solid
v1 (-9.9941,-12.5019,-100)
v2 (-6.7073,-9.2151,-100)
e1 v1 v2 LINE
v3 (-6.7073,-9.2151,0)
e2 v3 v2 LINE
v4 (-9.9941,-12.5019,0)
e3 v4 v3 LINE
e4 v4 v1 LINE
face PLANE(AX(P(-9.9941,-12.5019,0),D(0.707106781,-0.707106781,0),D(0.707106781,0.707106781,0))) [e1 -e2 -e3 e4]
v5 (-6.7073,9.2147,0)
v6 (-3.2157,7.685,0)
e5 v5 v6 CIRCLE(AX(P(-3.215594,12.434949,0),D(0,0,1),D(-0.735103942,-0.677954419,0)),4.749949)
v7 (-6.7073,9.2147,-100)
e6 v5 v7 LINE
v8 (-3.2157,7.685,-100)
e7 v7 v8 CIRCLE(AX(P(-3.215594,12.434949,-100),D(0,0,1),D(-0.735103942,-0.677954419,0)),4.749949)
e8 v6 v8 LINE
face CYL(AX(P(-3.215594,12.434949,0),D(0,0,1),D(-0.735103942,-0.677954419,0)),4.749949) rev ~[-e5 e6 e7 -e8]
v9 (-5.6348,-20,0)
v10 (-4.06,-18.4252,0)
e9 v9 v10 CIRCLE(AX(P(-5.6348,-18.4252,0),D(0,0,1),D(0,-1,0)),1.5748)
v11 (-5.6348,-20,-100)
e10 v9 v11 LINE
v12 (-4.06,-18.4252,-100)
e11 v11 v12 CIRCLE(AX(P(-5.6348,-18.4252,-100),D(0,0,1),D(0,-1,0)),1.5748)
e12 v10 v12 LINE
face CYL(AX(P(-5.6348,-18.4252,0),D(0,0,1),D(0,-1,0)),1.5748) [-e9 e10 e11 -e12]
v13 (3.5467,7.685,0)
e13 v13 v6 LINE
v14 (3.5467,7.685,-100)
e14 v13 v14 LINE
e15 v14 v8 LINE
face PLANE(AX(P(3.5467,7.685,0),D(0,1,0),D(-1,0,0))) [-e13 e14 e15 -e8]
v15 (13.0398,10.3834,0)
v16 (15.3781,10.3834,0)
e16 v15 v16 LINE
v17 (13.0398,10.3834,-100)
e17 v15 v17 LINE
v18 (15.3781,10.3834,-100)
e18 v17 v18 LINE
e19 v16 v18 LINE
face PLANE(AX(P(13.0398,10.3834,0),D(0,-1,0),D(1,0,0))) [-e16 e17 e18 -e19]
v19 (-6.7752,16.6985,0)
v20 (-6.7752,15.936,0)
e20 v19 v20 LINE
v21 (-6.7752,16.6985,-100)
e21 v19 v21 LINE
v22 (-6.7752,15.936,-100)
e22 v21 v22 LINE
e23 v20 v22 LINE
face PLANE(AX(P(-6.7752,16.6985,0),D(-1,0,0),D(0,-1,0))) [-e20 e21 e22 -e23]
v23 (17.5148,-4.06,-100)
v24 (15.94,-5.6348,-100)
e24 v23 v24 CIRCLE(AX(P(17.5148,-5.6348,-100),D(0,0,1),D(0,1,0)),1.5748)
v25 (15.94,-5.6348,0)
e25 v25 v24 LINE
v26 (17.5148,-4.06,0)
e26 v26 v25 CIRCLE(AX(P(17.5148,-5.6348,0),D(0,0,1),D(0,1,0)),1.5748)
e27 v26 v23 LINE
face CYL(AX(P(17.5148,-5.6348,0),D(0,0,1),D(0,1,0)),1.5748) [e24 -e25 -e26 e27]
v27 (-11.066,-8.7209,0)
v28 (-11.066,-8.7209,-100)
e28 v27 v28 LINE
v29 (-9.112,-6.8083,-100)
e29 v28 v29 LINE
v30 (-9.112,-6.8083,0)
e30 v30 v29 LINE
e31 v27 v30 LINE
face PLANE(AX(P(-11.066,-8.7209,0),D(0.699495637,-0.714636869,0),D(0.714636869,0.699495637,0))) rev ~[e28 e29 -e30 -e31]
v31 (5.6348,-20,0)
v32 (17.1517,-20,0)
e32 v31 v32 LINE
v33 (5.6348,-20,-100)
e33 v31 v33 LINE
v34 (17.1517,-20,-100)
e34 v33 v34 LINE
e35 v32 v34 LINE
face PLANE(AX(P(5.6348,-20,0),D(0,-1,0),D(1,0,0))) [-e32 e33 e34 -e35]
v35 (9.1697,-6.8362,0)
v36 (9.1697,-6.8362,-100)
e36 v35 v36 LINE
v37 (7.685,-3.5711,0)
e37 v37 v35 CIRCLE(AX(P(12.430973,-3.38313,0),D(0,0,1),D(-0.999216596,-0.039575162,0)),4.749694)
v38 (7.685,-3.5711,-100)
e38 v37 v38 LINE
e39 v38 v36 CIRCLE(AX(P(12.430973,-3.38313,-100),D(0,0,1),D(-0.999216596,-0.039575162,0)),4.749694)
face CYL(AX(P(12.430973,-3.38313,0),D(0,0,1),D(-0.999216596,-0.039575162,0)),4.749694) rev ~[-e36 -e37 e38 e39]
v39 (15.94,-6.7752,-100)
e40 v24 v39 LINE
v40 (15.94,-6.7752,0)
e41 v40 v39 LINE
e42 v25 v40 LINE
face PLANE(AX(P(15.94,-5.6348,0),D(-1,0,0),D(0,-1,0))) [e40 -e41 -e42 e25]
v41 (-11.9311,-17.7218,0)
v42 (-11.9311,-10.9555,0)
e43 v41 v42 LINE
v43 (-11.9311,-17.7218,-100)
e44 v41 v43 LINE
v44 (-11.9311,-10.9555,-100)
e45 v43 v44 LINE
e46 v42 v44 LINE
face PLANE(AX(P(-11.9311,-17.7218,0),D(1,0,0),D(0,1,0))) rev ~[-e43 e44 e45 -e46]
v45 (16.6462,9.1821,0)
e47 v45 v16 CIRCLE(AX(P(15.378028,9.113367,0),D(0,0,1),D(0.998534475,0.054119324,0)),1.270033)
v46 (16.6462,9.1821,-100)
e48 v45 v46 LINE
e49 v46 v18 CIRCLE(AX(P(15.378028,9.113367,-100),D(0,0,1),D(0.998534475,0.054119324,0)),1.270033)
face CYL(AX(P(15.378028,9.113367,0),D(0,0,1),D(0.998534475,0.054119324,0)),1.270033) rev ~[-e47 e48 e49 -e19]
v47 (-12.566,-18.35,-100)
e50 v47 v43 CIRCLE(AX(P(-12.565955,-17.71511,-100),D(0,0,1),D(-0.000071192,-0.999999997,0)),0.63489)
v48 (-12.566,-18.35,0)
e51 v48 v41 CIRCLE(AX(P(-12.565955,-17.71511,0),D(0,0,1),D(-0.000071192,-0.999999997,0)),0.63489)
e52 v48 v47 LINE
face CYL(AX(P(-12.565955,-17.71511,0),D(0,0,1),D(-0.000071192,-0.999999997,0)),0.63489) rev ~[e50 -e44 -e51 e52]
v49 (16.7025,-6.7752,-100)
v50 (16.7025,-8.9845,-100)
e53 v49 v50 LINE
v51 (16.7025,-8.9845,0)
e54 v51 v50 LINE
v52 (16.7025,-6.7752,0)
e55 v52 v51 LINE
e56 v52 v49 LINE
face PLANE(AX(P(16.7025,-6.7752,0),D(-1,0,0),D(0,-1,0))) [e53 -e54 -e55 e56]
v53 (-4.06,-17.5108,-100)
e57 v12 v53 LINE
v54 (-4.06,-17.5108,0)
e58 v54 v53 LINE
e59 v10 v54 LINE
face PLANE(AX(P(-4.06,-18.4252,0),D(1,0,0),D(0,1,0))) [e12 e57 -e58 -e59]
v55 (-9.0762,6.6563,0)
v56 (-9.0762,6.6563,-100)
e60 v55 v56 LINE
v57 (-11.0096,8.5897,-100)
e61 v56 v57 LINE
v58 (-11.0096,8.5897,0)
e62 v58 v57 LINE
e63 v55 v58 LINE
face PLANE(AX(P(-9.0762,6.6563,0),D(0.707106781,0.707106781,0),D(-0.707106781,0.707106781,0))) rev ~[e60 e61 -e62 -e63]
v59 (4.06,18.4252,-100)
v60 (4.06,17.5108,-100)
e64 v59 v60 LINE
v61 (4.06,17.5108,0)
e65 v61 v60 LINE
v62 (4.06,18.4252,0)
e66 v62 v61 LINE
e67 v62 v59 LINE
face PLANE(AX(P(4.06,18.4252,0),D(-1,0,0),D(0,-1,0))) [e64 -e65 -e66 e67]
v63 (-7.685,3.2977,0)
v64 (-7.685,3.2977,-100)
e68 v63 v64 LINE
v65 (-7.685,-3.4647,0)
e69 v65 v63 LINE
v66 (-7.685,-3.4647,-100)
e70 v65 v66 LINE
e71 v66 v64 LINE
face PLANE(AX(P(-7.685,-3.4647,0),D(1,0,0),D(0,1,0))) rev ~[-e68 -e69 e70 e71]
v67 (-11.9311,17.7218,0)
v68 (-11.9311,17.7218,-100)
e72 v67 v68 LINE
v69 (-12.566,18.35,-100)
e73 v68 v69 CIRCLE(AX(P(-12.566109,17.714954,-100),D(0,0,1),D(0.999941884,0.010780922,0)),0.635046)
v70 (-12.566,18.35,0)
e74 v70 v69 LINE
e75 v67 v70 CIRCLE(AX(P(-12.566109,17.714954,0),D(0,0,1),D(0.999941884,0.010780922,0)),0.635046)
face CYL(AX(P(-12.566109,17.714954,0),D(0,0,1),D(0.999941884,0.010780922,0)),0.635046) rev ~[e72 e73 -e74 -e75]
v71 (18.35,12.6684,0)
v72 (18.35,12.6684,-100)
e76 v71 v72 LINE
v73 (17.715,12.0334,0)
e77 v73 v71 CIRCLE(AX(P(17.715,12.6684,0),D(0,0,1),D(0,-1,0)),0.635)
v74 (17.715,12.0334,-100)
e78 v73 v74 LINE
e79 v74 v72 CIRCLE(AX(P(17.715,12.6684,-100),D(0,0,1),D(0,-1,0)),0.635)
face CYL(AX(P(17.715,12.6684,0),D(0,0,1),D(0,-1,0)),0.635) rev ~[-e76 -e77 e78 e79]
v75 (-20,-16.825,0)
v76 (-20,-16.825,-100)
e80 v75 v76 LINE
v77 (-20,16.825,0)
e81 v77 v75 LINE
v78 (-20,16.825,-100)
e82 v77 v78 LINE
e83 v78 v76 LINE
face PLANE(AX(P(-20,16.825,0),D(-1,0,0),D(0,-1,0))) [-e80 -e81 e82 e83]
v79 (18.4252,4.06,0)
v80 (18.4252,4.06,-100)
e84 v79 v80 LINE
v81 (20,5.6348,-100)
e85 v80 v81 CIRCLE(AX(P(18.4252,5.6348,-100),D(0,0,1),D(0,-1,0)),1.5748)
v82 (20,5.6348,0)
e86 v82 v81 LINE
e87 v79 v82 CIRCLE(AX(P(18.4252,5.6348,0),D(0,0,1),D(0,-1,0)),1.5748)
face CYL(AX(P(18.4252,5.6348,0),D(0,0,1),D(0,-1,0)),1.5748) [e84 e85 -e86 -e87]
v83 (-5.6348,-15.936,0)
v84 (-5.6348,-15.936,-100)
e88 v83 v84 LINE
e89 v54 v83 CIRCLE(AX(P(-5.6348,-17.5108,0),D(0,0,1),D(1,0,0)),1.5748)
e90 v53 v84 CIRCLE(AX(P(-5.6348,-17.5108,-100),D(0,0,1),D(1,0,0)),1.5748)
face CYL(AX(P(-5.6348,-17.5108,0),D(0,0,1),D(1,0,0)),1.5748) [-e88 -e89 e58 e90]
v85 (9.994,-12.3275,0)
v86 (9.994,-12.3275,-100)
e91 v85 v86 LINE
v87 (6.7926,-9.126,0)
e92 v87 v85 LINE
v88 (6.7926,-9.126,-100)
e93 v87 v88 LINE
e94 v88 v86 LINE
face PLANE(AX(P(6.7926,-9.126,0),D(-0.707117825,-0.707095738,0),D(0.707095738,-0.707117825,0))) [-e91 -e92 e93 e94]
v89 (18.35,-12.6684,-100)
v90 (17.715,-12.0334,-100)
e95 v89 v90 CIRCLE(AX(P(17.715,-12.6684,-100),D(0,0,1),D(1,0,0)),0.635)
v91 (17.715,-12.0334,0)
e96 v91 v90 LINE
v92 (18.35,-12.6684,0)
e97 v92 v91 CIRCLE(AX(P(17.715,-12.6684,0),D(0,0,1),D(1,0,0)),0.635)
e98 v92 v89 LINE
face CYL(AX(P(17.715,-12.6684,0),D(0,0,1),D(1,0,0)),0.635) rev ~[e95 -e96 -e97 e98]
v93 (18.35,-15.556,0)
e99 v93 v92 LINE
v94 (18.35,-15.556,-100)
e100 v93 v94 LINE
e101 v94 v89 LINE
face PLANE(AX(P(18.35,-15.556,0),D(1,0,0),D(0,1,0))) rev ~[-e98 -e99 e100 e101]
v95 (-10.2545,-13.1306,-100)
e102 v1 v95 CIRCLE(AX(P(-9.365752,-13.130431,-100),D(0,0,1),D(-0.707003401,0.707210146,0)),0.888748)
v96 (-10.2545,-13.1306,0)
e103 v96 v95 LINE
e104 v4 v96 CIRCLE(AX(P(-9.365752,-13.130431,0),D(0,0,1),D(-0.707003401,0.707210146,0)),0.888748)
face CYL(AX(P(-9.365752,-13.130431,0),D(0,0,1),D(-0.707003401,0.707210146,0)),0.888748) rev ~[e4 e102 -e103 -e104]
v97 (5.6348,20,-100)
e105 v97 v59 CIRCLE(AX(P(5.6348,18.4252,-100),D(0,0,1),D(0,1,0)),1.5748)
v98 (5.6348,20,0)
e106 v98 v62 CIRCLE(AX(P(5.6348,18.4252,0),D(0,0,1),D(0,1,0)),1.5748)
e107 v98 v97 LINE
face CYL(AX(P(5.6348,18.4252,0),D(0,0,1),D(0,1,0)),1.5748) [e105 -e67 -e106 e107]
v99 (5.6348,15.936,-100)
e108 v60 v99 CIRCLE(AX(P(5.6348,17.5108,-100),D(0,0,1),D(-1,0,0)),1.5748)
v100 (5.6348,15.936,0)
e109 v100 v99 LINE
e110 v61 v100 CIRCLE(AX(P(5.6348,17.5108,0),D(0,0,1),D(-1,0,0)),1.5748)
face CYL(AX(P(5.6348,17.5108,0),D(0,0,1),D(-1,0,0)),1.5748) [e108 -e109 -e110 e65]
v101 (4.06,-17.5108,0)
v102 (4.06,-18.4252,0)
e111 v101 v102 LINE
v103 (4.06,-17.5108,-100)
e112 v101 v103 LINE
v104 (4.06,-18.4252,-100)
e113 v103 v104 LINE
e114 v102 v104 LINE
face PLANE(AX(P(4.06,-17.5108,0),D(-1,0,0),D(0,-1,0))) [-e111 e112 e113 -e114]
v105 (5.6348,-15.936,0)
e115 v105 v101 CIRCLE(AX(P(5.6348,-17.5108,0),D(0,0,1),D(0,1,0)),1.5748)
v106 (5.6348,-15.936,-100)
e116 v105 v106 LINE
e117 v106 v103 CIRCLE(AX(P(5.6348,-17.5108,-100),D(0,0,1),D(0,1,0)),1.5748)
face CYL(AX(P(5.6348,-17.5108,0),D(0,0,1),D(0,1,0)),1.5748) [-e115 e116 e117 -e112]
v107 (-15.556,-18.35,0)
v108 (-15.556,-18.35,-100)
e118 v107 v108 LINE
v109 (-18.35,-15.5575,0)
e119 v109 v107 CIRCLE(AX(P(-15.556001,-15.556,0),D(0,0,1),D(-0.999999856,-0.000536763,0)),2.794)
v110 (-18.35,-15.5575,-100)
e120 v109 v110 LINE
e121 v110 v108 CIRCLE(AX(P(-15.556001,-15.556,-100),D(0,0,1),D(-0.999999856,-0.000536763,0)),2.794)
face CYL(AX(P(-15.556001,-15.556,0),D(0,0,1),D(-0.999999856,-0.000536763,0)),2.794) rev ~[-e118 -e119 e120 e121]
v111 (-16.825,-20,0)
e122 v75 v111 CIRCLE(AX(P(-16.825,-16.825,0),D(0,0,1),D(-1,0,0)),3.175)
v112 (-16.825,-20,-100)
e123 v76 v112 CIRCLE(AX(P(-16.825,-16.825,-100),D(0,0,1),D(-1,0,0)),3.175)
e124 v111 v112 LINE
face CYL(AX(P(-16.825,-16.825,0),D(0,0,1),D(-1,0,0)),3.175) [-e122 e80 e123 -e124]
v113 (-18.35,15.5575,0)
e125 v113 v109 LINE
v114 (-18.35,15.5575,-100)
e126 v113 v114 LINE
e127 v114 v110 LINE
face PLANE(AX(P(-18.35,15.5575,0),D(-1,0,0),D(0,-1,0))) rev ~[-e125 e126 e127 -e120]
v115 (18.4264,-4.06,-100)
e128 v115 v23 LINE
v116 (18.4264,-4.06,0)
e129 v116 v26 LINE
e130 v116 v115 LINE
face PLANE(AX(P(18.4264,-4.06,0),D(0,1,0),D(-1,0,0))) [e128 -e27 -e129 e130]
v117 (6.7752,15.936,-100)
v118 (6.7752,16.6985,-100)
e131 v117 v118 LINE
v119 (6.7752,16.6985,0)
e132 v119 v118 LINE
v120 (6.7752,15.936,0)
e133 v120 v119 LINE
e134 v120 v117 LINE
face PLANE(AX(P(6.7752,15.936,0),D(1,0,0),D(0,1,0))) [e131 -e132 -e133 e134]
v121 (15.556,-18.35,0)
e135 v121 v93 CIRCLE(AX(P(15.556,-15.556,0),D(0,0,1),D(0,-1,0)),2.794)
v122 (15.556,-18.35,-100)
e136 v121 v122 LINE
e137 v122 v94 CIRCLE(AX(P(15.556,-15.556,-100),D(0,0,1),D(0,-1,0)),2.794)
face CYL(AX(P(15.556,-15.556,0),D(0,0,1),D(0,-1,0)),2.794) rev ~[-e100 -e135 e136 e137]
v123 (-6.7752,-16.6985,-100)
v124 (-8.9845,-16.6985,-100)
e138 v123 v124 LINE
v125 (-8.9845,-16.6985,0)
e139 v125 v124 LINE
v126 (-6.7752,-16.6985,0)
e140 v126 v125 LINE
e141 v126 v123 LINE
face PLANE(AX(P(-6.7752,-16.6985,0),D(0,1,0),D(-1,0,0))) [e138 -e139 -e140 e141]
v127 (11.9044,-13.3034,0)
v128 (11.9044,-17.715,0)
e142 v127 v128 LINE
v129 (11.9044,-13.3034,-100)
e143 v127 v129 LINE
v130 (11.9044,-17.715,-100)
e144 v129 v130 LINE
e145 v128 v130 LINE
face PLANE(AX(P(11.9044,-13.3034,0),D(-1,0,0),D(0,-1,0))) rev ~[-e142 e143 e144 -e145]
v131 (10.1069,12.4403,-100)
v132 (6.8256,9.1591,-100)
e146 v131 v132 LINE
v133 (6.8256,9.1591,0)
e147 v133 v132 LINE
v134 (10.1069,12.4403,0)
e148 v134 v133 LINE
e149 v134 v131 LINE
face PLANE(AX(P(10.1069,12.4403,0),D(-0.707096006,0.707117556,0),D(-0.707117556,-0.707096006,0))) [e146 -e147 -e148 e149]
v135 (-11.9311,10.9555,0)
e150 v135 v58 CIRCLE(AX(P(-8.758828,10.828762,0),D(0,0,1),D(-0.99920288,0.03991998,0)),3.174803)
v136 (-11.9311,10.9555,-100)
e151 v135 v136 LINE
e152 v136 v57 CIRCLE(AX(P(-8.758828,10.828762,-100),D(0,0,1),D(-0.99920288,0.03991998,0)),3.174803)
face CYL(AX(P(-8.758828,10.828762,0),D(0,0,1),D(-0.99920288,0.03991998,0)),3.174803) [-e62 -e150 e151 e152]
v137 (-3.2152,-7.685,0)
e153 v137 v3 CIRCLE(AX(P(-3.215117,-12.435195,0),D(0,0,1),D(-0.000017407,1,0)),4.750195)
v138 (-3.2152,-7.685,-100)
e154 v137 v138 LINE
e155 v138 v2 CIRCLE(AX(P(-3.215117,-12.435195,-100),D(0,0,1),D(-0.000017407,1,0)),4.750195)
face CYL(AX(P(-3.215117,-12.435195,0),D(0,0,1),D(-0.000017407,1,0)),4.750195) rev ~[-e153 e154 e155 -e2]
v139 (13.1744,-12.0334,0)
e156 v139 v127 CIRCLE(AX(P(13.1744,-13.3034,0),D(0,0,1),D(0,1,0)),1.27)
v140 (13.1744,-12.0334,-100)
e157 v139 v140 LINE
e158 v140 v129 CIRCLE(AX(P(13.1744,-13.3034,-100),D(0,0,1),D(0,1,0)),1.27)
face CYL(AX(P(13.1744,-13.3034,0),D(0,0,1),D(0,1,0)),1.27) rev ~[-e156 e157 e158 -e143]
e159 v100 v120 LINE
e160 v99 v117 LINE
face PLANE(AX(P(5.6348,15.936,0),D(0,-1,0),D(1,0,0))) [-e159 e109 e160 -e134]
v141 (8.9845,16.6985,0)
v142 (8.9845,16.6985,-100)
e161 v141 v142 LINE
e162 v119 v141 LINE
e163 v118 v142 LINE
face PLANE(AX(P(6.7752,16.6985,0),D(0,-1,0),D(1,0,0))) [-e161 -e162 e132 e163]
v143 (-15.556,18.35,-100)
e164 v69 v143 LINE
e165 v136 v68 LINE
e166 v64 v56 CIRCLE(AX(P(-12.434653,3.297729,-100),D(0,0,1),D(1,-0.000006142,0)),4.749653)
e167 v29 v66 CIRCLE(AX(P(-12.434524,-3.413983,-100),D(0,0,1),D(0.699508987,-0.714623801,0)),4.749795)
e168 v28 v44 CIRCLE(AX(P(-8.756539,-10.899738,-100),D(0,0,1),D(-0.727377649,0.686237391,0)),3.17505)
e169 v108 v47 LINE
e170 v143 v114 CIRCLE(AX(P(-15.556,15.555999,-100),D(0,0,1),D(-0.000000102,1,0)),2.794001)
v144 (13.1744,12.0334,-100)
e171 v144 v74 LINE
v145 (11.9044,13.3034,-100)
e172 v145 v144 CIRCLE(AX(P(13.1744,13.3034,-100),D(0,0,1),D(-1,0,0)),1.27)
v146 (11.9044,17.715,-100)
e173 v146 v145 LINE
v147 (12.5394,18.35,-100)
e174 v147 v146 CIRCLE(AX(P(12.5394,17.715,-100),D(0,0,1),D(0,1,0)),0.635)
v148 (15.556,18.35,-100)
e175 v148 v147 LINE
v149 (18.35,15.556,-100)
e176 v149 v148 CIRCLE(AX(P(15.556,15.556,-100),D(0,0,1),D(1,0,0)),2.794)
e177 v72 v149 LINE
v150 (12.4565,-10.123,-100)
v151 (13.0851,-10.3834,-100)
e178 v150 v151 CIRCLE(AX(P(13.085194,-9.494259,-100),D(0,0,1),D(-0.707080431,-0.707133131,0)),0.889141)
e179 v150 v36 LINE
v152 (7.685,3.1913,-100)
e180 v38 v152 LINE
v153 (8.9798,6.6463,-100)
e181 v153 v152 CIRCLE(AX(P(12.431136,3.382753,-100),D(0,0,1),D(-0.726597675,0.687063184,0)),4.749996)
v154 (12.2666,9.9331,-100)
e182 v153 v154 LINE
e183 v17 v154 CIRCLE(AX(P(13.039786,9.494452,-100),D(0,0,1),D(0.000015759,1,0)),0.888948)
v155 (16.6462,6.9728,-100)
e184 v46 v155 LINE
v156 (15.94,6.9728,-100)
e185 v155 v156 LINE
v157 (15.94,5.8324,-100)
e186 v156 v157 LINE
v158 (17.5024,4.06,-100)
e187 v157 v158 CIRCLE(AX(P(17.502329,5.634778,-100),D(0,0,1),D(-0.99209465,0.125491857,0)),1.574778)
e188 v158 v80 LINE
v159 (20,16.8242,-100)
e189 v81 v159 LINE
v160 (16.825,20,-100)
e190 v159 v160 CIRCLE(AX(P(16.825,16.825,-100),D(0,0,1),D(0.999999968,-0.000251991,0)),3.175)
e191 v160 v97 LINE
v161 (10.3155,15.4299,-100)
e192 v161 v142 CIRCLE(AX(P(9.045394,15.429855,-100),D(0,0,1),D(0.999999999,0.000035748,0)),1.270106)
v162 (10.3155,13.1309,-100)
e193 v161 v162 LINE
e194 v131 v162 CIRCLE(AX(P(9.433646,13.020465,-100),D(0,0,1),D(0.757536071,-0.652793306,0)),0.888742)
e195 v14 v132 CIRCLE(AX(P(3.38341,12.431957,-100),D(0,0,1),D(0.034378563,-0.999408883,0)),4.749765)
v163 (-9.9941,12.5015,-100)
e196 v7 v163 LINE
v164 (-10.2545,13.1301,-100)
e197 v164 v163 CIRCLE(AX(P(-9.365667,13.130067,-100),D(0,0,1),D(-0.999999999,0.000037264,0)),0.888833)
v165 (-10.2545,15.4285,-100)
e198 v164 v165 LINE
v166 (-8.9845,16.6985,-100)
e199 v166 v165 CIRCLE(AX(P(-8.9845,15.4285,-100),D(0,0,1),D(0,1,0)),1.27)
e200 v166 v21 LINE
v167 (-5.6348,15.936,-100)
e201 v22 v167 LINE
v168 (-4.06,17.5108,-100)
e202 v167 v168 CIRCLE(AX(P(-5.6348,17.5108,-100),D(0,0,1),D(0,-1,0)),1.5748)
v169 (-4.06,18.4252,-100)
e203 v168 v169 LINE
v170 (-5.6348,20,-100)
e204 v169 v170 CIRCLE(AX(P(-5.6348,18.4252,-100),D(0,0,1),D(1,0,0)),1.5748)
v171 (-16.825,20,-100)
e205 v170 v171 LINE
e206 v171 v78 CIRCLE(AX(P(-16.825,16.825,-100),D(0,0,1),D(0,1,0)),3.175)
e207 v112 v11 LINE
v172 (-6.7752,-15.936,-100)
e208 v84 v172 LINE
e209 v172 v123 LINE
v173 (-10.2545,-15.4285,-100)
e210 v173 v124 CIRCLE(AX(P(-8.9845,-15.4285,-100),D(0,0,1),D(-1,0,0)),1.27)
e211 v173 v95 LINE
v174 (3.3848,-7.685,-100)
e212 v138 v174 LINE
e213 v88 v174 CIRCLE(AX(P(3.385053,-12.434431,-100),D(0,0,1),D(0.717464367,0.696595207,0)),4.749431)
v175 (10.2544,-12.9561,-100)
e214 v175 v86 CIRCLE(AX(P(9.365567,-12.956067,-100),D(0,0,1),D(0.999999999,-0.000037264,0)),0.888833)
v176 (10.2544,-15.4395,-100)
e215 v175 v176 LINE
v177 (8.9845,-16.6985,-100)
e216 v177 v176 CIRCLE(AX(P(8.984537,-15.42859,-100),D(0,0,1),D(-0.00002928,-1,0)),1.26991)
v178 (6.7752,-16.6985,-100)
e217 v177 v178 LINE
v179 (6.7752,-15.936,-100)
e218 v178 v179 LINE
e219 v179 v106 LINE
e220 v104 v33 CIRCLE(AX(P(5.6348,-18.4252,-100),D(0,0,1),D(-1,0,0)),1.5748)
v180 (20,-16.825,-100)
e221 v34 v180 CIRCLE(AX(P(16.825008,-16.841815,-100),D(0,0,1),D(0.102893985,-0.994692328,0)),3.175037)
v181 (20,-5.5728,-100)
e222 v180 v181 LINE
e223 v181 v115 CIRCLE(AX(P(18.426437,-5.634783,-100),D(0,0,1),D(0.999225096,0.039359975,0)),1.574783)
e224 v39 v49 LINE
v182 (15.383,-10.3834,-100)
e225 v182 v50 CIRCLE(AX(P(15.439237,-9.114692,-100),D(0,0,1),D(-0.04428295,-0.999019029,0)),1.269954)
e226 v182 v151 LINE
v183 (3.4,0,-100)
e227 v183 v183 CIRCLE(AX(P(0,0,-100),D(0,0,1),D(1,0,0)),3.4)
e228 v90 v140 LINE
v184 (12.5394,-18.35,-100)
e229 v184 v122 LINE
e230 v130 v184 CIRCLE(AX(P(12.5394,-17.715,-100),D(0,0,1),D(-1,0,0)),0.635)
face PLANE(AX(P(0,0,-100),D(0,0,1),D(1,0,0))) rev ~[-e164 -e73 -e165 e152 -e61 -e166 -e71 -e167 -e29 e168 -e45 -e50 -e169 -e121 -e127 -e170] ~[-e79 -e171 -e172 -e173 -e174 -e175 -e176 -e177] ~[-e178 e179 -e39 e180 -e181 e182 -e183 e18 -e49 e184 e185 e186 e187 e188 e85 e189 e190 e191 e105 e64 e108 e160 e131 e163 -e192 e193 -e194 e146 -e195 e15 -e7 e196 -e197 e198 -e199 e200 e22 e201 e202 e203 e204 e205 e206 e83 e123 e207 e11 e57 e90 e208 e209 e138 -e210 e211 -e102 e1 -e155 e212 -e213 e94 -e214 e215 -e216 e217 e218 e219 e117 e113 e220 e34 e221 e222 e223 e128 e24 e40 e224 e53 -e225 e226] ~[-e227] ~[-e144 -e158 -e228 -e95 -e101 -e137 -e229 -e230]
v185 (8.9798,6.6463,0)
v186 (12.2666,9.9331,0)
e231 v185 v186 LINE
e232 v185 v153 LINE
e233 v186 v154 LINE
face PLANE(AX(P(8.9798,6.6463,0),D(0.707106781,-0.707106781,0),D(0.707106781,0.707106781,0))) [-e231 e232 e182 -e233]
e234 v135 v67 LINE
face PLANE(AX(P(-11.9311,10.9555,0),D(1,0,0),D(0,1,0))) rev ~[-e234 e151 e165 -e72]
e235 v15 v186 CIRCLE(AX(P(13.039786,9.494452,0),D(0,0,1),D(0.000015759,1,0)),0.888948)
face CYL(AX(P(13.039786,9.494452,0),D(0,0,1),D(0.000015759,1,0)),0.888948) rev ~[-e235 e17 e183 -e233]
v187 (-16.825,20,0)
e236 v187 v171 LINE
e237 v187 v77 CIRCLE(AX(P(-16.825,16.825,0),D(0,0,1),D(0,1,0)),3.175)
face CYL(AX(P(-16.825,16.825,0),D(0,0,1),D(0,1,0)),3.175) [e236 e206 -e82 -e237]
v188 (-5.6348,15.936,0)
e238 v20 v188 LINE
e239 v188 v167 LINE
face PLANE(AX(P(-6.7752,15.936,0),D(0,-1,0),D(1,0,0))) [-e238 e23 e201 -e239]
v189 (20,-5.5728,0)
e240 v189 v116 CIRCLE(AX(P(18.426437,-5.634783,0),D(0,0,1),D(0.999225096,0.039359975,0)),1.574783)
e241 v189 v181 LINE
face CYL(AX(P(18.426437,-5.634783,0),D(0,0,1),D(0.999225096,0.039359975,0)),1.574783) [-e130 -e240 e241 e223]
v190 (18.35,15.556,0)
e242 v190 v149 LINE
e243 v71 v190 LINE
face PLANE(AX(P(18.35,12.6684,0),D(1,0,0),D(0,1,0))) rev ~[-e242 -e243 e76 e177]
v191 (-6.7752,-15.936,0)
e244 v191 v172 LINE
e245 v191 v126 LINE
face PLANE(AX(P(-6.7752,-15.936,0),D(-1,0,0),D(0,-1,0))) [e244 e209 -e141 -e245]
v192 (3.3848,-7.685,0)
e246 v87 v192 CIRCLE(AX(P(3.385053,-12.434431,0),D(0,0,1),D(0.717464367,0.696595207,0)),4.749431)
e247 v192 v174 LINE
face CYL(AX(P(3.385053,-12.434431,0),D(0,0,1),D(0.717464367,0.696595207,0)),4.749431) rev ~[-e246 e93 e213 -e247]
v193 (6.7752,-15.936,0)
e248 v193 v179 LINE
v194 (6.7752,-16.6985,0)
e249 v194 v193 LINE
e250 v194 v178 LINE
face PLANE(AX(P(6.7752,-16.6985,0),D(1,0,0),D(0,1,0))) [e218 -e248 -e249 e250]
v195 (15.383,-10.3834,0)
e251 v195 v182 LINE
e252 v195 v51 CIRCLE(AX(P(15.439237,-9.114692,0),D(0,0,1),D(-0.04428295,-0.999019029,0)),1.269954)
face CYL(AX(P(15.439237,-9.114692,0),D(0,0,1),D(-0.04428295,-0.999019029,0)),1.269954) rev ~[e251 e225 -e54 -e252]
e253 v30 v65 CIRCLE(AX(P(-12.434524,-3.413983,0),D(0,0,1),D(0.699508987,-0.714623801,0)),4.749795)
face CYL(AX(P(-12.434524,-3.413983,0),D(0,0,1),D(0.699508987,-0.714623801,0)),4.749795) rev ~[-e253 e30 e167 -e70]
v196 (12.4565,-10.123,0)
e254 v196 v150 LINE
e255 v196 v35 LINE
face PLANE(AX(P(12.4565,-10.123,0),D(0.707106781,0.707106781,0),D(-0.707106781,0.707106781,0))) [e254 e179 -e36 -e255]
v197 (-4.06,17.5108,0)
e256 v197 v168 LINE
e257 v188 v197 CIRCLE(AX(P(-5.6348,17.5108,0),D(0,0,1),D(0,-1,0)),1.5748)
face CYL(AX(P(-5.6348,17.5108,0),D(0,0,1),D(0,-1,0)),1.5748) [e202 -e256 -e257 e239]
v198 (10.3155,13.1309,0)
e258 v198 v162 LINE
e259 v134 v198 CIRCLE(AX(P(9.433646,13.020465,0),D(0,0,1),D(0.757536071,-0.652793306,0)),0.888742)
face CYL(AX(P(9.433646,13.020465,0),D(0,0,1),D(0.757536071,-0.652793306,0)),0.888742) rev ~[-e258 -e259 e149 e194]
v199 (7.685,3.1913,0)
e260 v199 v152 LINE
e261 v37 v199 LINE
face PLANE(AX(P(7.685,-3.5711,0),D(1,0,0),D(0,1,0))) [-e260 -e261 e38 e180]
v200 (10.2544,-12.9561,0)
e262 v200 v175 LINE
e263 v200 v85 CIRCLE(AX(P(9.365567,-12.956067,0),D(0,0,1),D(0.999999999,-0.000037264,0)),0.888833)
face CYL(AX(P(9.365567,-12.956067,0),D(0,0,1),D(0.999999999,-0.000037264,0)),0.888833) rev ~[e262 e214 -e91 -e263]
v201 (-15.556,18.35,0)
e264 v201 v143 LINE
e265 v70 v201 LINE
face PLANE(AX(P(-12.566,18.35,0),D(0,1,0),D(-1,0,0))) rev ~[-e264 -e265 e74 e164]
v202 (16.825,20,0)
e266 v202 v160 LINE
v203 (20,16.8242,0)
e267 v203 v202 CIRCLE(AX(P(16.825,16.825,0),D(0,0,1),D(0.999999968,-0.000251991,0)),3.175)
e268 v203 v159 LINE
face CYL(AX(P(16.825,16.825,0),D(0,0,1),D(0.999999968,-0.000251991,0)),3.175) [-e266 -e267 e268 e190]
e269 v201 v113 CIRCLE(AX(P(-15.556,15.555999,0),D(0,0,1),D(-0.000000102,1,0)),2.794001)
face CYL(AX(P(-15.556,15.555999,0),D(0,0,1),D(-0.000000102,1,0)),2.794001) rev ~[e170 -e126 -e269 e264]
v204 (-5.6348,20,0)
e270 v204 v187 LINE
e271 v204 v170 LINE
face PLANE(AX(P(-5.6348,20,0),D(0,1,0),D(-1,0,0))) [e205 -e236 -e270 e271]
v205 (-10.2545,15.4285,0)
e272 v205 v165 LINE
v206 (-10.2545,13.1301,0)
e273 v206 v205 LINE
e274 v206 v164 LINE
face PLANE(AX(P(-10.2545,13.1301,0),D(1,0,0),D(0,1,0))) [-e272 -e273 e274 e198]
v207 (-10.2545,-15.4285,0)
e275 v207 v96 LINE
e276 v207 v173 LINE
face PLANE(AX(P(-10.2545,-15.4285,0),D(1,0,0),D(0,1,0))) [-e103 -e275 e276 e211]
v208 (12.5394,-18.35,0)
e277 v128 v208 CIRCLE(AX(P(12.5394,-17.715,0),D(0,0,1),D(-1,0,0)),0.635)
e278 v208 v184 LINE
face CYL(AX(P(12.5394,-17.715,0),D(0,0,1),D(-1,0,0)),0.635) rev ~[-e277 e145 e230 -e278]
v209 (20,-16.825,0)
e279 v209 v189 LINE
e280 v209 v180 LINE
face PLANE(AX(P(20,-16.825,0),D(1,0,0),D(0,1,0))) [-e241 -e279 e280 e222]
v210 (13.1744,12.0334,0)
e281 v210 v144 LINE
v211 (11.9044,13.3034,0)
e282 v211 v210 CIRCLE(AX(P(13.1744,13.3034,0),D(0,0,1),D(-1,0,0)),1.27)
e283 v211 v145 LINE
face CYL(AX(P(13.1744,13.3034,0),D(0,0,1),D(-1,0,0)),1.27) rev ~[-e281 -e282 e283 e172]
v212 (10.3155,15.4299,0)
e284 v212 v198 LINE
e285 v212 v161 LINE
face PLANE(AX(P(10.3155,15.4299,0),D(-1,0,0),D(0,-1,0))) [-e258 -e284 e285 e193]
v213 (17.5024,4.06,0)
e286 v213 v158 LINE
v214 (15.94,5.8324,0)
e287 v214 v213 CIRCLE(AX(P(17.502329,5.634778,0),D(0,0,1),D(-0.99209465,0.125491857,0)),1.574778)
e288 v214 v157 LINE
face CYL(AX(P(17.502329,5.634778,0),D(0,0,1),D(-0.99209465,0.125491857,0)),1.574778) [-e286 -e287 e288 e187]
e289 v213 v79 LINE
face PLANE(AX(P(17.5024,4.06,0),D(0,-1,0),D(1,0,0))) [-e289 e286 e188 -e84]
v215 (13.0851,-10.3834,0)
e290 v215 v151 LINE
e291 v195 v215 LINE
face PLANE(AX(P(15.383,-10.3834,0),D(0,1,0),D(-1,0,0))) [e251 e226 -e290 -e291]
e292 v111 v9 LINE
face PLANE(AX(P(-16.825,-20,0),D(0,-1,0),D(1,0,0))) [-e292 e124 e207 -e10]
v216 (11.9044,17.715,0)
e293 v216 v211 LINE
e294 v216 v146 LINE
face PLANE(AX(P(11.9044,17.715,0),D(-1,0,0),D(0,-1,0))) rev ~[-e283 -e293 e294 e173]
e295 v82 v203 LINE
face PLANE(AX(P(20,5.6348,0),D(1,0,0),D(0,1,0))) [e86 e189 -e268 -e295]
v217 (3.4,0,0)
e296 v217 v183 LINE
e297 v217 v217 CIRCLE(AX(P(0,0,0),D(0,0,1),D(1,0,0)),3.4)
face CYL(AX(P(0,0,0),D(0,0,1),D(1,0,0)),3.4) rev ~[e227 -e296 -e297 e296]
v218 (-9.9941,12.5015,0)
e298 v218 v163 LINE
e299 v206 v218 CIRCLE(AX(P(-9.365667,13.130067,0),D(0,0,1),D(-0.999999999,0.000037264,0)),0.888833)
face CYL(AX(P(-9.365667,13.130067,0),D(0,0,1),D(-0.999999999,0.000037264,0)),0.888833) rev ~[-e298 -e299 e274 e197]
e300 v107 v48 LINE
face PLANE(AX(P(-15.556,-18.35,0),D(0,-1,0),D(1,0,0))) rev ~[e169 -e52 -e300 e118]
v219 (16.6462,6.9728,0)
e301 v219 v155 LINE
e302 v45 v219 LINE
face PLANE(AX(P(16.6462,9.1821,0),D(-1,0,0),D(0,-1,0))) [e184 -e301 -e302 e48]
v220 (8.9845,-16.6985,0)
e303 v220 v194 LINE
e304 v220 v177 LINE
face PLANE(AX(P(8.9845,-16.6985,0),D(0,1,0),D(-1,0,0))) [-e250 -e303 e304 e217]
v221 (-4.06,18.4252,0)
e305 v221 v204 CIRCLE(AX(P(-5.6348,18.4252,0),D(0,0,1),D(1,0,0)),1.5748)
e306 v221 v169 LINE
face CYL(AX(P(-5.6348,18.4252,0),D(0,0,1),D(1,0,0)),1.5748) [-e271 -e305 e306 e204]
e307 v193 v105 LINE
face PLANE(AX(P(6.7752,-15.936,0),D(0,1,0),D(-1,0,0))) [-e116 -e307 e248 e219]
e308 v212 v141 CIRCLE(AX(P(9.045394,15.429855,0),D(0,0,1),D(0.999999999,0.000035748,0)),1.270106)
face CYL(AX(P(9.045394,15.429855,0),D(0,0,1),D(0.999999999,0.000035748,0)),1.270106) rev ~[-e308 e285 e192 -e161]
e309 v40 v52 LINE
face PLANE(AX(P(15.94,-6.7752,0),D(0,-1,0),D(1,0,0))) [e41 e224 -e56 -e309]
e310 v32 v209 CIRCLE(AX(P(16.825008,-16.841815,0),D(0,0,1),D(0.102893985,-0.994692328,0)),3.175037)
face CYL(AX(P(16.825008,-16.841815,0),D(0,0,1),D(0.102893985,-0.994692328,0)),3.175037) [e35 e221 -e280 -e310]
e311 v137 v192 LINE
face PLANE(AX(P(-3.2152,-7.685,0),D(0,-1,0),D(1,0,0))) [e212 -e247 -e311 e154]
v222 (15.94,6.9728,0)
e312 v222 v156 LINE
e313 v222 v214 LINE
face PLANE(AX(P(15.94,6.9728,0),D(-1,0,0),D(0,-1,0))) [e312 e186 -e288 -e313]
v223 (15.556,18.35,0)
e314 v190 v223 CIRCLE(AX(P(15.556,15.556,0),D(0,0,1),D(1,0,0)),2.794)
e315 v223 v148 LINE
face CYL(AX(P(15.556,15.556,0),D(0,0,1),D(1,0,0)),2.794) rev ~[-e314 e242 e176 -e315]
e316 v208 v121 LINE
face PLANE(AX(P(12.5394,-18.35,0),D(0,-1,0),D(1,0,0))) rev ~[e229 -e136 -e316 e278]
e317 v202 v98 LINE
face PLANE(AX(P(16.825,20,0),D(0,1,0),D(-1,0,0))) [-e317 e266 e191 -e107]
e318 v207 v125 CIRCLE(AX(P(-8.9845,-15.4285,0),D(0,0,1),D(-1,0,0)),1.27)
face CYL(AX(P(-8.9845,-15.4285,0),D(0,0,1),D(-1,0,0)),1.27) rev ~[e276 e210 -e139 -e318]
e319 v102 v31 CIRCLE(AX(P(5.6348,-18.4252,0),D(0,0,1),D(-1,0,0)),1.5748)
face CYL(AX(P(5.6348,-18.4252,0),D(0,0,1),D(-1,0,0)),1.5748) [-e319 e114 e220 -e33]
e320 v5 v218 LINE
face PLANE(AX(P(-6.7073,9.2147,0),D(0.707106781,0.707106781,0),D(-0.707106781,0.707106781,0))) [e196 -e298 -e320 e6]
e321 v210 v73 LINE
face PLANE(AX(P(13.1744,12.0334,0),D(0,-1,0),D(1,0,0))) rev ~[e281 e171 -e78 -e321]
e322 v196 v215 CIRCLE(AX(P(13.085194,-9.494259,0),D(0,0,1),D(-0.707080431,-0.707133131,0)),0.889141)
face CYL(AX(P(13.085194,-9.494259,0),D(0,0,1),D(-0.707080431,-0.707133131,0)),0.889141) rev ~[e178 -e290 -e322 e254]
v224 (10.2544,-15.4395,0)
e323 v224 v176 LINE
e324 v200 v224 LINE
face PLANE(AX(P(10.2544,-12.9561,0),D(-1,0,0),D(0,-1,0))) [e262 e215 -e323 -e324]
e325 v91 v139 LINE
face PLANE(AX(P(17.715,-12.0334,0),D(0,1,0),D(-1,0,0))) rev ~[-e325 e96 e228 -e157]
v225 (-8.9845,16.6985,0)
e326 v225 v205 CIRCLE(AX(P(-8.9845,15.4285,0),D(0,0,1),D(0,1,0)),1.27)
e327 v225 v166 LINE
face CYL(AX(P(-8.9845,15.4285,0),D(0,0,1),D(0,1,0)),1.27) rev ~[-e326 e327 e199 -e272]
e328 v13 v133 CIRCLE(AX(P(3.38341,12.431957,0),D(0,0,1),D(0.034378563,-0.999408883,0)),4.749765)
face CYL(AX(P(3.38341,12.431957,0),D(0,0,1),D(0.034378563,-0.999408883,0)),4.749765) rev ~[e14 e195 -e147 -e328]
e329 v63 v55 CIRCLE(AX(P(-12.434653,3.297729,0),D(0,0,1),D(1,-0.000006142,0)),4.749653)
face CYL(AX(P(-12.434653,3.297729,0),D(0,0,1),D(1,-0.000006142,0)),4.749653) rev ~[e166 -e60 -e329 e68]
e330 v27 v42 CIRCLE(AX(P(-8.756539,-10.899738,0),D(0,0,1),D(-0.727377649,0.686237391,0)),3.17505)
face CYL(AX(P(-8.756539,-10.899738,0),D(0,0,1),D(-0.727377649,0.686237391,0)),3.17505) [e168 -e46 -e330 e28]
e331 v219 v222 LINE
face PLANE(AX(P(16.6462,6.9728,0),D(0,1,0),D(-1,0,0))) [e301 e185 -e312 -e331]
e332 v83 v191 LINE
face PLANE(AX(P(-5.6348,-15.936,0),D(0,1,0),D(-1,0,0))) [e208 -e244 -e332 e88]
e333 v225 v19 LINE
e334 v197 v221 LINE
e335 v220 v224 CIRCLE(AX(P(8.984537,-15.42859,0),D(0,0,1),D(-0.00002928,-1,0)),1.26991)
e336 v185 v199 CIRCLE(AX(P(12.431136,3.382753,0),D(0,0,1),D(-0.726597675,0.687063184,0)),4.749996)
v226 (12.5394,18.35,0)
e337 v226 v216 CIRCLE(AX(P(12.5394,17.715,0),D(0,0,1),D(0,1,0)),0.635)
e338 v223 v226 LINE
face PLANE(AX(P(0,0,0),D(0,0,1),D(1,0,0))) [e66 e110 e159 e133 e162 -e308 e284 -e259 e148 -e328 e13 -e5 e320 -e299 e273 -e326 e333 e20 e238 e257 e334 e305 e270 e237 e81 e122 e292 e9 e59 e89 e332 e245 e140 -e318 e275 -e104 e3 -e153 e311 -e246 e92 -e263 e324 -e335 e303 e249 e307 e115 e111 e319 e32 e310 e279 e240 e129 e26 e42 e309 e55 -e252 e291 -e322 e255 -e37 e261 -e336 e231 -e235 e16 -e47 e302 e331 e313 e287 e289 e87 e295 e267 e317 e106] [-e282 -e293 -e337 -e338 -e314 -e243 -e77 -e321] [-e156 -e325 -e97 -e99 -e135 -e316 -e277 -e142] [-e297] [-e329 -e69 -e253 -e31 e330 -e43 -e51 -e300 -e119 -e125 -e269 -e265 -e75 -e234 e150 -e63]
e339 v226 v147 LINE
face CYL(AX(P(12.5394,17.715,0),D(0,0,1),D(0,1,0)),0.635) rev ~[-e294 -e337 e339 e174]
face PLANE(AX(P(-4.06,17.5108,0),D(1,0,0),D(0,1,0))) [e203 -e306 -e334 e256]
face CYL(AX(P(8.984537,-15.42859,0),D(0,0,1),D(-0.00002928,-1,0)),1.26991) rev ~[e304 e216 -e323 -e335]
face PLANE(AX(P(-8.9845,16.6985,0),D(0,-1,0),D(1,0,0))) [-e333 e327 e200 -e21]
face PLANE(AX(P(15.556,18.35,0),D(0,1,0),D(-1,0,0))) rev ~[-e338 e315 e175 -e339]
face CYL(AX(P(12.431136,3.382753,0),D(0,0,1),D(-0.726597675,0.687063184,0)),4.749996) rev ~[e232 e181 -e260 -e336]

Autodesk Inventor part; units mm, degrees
ref_plane "YZ Plane" through (0, 0, 0) normal (1, 0, 0) x (0, 1, 0)
ref_plane "XZ Plane" through (0, 0, 0) normal (0, 1, 0) x (-1, 0, 0)
ref_plane "XY Plane" through (0, 0, 0) normal (0, 0, 1) x (1, 0, 0)
sketch "Sketch1" plane through (0, 0, 0) normal (0, 0, 1) x (1, 0, 0)
  arc A0 (11.9044, -17.715) -> (12.5394, -18.35) centre (12.5394, -17.715) ccw
  line L0 (11.9044, -13.3034) -> (11.9044, -17.715)
  arc A1 (13.1744, -12.0334) -> (11.9044, -13.3034) centre (13.1744, -13.3034) ccw
  line L1 (17.715, -12.0334) -> (13.1744, -12.0334)
  arc A2 (18.35, -12.6684) -> (17.715, -12.0334) centre (17.715, -12.6684) ccw
  line L2 (18.35, -15.556) -> (18.35, -12.6684)
  arc A3 (15.556, -18.35) -> (18.35, -15.556) centre (15.556, -15.556) ccw
  line L3 (12.5394, -18.35) -> (15.556, -18.35)
  arc A4 (-12.566, -18.35) -> (-11.9311, -17.7218) centre (-12.566, -17.715) ccw
  line L4 (-15.556, -18.35) -> (-12.566, -18.35)
  arc A5 (-18.35, -15.5575) -> (-15.556, -18.35) centre (-15.556, -15.556) ccw
  line L5 (-18.35, 15.5575) -> (-18.35, -15.5575)
  arc A6 (-15.556, 18.35) -> (-18.35, 15.5575) centre (-15.556, 15.556) ccw
  line L6 (-12.566, 18.35) -> (-15.556, 18.35)
  arc A7 (-11.9311, 17.7218) -> (-12.566, 18.35) centre (-12.566, 17.715) ccw
  line L7 (-11.9311, 10.9555) -> (-11.9311, 17.7218)
  arc A8 (-11.9311, 10.9555) -> (-11.0096, 8.5897) centre (-8.7586, 10.8288) ccw
  line L8 (-9.0762, 6.6563) -> (-11.0096, 8.5897)
  arc A9 (-7.685, 3.2977) -> (-9.0762, 6.6563) centre (-12.4348, 3.2977) ccw
  line L9 (-7.685, -3.4647) -> (-7.685, 3.2977)
  arc A10 (-9.112, -6.8083) -> (-7.685, -3.4647) centre (-12.4345, -3.414) ccw
  line L10 (-11.066, -8.7209) -> (-9.112, -6.8083)
  arc A11 (-11.066, -8.7209) -> (-11.9311, -10.9555) centre (-8.7566, -10.8997) ccw
  line L11 (-11.9311, -17.7218) -> (-11.9311, -10.9555)
  circle A12 centre (0, 0) radius 3.4
  arc A13 (11.9044, 13.3034) -> (13.1744, 12.0334) centre (13.1744, 13.3034) ccw
  line L12 (11.9044, 17.715) -> (11.9044, 13.3034)
  arc A14 (12.5394, 18.35) -> (11.9044, 17.715) centre (12.5394, 17.715) ccw
  line L13 (15.556, 18.35) -> (12.5394, 18.35)
  arc A15 (18.35, 15.556) -> (15.556, 18.35) centre (15.556, 15.556) ccw
  line L14 (18.35, 12.6684) -> (18.35, 15.556)
  arc A16 (17.715, 12.0334) -> (18.35, 12.6684) centre (17.715, 12.6684) ccw
  line L15 (13.1744, 12.0334) -> (17.715, 12.0334)
  arc A17 (3.5467, 7.685) -> (6.8256, 9.1591) centre (3.3834, 12.432) ccw
  line L16 (3.5467, 7.685) -> (-3.2157, 7.685)
  arc A18 (-6.7073, 9.2147) -> (-3.2157, 7.685) centre (-3.2157, 12.4348) ccw
  line L17 (-6.7073, 9.2147) -> (-9.9941, 12.5015)
  arc A19 (-10.2545, 13.1301) -> (-9.9941, 12.5015) centre (-9.3655, 13.1301) ccw
  line L18 (-10.2545, 13.1301) -> (-10.2545, 15.4285)
  arc A20 (-8.9845, 16.6985) -> (-10.2545, 15.4285) centre (-8.9845, 15.4285) ccw
  line L19 (-8.9845, 16.6985) -> (-6.7752, 16.6985)
  line L20 (-6.7752, 16.6985) -> (-6.7752, 15.936)
  line L21 (-6.7752, 15.936) -> (-5.6348, 15.936)
  arc A21 (-5.6348, 15.936) -> (-4.06, 17.5108) centre (-5.6348, 17.5108) ccw
  line L22 (-4.06, 17.5108) -> (-4.06, 18.4252)
  arc A22 (-4.06, 18.4252) -> (-5.6348, 20) centre (-5.6348, 18.4252) ccw
  line L23 (-5.6348, 20) -> (-16.825, 20)
  arc A23 (-16.825, 20) -> (-20, 16.825) centre (-16.825, 16.825) ccw
  line L24 (-20, 16.825) -> (-20, -16.825)
  arc A24 (-20, -16.825) -> (-16.825, -20) centre (-16.825, -16.825) ccw
  line L25 (-16.825, -20) -> (-5.6348, -20)
  arc A25 (-5.6348, -20) -> (-4.06, -18.4252) centre (-5.6348, -18.4252) ccw
  line L26 (-4.06, -18.4252) -> (-4.06, -17.5108)
  arc A26 (-4.06, -17.5108) -> (-5.6348, -15.936) centre (-5.6348, -17.5108) ccw
  line L27 (-5.6348, -15.936) -> (-6.7752, -15.936)
  line L28 (-6.7752, -15.936) -> (-6.7752, -16.6985)
  line L29 (-6.7752, -16.6985) -> (-8.9845, -16.6985)
  arc A27 (-10.2545, -15.4285) -> (-8.9845, -16.6985) centre (-8.9845, -15.4285) ccw
  line L30 (-10.2545, -15.4285) -> (-10.2545, -13.1306)
  arc A28 (-9.9941, -12.5019) -> (-10.2545, -13.1306) centre (-9.3655, -13.1306) ccw
  line L31 (-9.9941, -12.5019) -> (-6.7073, -9.2151)
  arc A29 (-3.2152, -7.685) -> (-6.7073, -9.2151) centre (-3.2152, -12.4348) ccw
  line L32 (-3.2152, -7.685) -> (3.3848, -7.685)
  arc A30 (6.7926, -9.126) -> (3.3848, -7.685) centre (3.3848, -12.4348) ccw
  line L33 (6.7926, -9.126) -> (9.994, -12.3275)
  arc A31 (10.2544, -12.9561) -> (9.994, -12.3275) centre (9.3654, -12.9561) ccw
  line L34 (10.2544, -12.9561) -> (10.2544, -15.4395)
  arc A32 (8.9845, -16.6985) -> (10.2544, -15.4395) centre (8.9845, -15.4285) ccw
  line L35 (8.9845, -16.6985) -> (6.7752, -16.6985)
  line L36 (6.7752, -16.6985) -> (6.7752, -15.936)
  line L37 (6.7752, -15.936) -> (5.6348, -15.936)
  arc A33 (5.6348, -15.936) -> (4.06, -17.5108) centre (5.6348, -17.5108) ccw
  line L38 (4.06, -17.5108) -> (4.06, -18.4252)
  arc A34 (4.06, -18.4252) -> (5.6348, -20) centre (5.6348, -18.4252) ccw
  line L39 (5.6348, -20) -> (17.1517, -20)
  arc A35 (17.1517, -20) -> (20, -16.825) centre (16.825, -16.8418) ccw
  line L40 (20, -16.825) -> (20, -5.5728)
  arc A36 (20, -5.5728) -> (18.4264, -4.06) centre (18.4264, -5.6348) ccw
  line L41 (18.4264, -4.06) -> (17.5148, -4.06)
  arc A37 (17.5148, -4.06) -> (15.94, -5.6348) centre (17.5148, -5.6348) ccw
  line L42 (15.94, -5.6348) -> (15.94, -6.7752)
  line L43 (15.94, -6.7752) -> (16.7025, -6.7752)
  line L44 (16.7025, -6.7752) -> (16.7025, -8.9845)
  arc A38 (15.383, -10.3834) -> (16.7025, -8.9845) centre (15.4392, -9.1146) ccw
  line L45 (15.383, -10.3834) -> (13.0851, -10.3834)
  arc A39 (12.4565, -10.123) -> (13.0851, -10.3834) centre (13.0851, -9.4944) ccw
  line L46 (12.4565, -10.123) -> (9.1697, -6.8362)
  arc A40 (7.685, -3.5711) -> (9.1697, -6.8362) centre (12.4311, -3.3831) ccw
  line L47 (7.685, -3.5711) -> (7.685, 3.1913)
  arc A41 (8.9798, 6.6463) -> (7.685, 3.1913) centre (12.4309, 3.3829) ccw
  line L48 (8.9798, 6.6463) -> (12.2666, 9.9331)
  arc A42 (13.0398, 10.3834) -> (12.2666, 9.9331) centre (13.0398, 9.4944) ccw
  line L49 (13.0398, 10.3834) -> (15.3781, 10.3834)
  arc A43 (16.6462, 9.1821) -> (15.3781, 10.3834) centre (15.3781, 9.1134) ccw
  line L50 (16.6462, 9.1821) -> (16.6462, 6.9728)
  line L51 (16.6462, 6.9728) -> (15.94, 6.9728)
  line L52 (15.94, 6.9728) -> (15.94, 5.8324)
  arc A44 (15.94, 5.8324) -> (17.5024, 4.06) centre (17.5024, 5.6348) ccw
  line L53 (17.5024, 4.06) -> (18.4252, 4.06)
  arc A45 (18.4252, 4.06) -> (20, 5.6348) centre (18.4252, 5.6348) ccw
  line L54 (20, 5.6348) -> (20, 16.8242)
  arc A46 (20, 16.8242) -> (16.825, 20) centre (16.825, 16.825) ccw
  line L55 (16.825, 20) -> (5.6348, 20)
  arc A47 (5.6348, 20) -> (4.06, 18.4252) centre (5.6348, 18.4252) ccw
  line L56 (4.06, 18.4252) -> (4.06, 17.5108)
  arc A48 (4.06, 17.5108) -> (5.6348, 15.936) centre (5.6348, 17.5108) ccw
  line L57 (5.6348, 15.936) -> (6.7752, 15.936)
  line L58 (6.7752, 15.936) -> (6.7752, 16.6985)
  line L59 (6.7752, 16.6985) -> (8.9845, 16.6985)
  arc A49 (10.3155, 15.4299) -> (8.9845, 16.6985) centre (9.0455, 15.4299) ccw
  line L60 (10.3155, 15.4299) -> (10.3155, 13.1309)
  arc A50 (10.1069, 12.4403) -> (10.3155, 13.1309) centre (9.4334, 13.0206) ccw
  line L61 (10.1069, 12.4403) -> (6.8256, 9.1591)
extrude "Extrusion1" add sketch "Sketch1" against normal blind 100
properties part number "40-4003-BLACK-FB"
